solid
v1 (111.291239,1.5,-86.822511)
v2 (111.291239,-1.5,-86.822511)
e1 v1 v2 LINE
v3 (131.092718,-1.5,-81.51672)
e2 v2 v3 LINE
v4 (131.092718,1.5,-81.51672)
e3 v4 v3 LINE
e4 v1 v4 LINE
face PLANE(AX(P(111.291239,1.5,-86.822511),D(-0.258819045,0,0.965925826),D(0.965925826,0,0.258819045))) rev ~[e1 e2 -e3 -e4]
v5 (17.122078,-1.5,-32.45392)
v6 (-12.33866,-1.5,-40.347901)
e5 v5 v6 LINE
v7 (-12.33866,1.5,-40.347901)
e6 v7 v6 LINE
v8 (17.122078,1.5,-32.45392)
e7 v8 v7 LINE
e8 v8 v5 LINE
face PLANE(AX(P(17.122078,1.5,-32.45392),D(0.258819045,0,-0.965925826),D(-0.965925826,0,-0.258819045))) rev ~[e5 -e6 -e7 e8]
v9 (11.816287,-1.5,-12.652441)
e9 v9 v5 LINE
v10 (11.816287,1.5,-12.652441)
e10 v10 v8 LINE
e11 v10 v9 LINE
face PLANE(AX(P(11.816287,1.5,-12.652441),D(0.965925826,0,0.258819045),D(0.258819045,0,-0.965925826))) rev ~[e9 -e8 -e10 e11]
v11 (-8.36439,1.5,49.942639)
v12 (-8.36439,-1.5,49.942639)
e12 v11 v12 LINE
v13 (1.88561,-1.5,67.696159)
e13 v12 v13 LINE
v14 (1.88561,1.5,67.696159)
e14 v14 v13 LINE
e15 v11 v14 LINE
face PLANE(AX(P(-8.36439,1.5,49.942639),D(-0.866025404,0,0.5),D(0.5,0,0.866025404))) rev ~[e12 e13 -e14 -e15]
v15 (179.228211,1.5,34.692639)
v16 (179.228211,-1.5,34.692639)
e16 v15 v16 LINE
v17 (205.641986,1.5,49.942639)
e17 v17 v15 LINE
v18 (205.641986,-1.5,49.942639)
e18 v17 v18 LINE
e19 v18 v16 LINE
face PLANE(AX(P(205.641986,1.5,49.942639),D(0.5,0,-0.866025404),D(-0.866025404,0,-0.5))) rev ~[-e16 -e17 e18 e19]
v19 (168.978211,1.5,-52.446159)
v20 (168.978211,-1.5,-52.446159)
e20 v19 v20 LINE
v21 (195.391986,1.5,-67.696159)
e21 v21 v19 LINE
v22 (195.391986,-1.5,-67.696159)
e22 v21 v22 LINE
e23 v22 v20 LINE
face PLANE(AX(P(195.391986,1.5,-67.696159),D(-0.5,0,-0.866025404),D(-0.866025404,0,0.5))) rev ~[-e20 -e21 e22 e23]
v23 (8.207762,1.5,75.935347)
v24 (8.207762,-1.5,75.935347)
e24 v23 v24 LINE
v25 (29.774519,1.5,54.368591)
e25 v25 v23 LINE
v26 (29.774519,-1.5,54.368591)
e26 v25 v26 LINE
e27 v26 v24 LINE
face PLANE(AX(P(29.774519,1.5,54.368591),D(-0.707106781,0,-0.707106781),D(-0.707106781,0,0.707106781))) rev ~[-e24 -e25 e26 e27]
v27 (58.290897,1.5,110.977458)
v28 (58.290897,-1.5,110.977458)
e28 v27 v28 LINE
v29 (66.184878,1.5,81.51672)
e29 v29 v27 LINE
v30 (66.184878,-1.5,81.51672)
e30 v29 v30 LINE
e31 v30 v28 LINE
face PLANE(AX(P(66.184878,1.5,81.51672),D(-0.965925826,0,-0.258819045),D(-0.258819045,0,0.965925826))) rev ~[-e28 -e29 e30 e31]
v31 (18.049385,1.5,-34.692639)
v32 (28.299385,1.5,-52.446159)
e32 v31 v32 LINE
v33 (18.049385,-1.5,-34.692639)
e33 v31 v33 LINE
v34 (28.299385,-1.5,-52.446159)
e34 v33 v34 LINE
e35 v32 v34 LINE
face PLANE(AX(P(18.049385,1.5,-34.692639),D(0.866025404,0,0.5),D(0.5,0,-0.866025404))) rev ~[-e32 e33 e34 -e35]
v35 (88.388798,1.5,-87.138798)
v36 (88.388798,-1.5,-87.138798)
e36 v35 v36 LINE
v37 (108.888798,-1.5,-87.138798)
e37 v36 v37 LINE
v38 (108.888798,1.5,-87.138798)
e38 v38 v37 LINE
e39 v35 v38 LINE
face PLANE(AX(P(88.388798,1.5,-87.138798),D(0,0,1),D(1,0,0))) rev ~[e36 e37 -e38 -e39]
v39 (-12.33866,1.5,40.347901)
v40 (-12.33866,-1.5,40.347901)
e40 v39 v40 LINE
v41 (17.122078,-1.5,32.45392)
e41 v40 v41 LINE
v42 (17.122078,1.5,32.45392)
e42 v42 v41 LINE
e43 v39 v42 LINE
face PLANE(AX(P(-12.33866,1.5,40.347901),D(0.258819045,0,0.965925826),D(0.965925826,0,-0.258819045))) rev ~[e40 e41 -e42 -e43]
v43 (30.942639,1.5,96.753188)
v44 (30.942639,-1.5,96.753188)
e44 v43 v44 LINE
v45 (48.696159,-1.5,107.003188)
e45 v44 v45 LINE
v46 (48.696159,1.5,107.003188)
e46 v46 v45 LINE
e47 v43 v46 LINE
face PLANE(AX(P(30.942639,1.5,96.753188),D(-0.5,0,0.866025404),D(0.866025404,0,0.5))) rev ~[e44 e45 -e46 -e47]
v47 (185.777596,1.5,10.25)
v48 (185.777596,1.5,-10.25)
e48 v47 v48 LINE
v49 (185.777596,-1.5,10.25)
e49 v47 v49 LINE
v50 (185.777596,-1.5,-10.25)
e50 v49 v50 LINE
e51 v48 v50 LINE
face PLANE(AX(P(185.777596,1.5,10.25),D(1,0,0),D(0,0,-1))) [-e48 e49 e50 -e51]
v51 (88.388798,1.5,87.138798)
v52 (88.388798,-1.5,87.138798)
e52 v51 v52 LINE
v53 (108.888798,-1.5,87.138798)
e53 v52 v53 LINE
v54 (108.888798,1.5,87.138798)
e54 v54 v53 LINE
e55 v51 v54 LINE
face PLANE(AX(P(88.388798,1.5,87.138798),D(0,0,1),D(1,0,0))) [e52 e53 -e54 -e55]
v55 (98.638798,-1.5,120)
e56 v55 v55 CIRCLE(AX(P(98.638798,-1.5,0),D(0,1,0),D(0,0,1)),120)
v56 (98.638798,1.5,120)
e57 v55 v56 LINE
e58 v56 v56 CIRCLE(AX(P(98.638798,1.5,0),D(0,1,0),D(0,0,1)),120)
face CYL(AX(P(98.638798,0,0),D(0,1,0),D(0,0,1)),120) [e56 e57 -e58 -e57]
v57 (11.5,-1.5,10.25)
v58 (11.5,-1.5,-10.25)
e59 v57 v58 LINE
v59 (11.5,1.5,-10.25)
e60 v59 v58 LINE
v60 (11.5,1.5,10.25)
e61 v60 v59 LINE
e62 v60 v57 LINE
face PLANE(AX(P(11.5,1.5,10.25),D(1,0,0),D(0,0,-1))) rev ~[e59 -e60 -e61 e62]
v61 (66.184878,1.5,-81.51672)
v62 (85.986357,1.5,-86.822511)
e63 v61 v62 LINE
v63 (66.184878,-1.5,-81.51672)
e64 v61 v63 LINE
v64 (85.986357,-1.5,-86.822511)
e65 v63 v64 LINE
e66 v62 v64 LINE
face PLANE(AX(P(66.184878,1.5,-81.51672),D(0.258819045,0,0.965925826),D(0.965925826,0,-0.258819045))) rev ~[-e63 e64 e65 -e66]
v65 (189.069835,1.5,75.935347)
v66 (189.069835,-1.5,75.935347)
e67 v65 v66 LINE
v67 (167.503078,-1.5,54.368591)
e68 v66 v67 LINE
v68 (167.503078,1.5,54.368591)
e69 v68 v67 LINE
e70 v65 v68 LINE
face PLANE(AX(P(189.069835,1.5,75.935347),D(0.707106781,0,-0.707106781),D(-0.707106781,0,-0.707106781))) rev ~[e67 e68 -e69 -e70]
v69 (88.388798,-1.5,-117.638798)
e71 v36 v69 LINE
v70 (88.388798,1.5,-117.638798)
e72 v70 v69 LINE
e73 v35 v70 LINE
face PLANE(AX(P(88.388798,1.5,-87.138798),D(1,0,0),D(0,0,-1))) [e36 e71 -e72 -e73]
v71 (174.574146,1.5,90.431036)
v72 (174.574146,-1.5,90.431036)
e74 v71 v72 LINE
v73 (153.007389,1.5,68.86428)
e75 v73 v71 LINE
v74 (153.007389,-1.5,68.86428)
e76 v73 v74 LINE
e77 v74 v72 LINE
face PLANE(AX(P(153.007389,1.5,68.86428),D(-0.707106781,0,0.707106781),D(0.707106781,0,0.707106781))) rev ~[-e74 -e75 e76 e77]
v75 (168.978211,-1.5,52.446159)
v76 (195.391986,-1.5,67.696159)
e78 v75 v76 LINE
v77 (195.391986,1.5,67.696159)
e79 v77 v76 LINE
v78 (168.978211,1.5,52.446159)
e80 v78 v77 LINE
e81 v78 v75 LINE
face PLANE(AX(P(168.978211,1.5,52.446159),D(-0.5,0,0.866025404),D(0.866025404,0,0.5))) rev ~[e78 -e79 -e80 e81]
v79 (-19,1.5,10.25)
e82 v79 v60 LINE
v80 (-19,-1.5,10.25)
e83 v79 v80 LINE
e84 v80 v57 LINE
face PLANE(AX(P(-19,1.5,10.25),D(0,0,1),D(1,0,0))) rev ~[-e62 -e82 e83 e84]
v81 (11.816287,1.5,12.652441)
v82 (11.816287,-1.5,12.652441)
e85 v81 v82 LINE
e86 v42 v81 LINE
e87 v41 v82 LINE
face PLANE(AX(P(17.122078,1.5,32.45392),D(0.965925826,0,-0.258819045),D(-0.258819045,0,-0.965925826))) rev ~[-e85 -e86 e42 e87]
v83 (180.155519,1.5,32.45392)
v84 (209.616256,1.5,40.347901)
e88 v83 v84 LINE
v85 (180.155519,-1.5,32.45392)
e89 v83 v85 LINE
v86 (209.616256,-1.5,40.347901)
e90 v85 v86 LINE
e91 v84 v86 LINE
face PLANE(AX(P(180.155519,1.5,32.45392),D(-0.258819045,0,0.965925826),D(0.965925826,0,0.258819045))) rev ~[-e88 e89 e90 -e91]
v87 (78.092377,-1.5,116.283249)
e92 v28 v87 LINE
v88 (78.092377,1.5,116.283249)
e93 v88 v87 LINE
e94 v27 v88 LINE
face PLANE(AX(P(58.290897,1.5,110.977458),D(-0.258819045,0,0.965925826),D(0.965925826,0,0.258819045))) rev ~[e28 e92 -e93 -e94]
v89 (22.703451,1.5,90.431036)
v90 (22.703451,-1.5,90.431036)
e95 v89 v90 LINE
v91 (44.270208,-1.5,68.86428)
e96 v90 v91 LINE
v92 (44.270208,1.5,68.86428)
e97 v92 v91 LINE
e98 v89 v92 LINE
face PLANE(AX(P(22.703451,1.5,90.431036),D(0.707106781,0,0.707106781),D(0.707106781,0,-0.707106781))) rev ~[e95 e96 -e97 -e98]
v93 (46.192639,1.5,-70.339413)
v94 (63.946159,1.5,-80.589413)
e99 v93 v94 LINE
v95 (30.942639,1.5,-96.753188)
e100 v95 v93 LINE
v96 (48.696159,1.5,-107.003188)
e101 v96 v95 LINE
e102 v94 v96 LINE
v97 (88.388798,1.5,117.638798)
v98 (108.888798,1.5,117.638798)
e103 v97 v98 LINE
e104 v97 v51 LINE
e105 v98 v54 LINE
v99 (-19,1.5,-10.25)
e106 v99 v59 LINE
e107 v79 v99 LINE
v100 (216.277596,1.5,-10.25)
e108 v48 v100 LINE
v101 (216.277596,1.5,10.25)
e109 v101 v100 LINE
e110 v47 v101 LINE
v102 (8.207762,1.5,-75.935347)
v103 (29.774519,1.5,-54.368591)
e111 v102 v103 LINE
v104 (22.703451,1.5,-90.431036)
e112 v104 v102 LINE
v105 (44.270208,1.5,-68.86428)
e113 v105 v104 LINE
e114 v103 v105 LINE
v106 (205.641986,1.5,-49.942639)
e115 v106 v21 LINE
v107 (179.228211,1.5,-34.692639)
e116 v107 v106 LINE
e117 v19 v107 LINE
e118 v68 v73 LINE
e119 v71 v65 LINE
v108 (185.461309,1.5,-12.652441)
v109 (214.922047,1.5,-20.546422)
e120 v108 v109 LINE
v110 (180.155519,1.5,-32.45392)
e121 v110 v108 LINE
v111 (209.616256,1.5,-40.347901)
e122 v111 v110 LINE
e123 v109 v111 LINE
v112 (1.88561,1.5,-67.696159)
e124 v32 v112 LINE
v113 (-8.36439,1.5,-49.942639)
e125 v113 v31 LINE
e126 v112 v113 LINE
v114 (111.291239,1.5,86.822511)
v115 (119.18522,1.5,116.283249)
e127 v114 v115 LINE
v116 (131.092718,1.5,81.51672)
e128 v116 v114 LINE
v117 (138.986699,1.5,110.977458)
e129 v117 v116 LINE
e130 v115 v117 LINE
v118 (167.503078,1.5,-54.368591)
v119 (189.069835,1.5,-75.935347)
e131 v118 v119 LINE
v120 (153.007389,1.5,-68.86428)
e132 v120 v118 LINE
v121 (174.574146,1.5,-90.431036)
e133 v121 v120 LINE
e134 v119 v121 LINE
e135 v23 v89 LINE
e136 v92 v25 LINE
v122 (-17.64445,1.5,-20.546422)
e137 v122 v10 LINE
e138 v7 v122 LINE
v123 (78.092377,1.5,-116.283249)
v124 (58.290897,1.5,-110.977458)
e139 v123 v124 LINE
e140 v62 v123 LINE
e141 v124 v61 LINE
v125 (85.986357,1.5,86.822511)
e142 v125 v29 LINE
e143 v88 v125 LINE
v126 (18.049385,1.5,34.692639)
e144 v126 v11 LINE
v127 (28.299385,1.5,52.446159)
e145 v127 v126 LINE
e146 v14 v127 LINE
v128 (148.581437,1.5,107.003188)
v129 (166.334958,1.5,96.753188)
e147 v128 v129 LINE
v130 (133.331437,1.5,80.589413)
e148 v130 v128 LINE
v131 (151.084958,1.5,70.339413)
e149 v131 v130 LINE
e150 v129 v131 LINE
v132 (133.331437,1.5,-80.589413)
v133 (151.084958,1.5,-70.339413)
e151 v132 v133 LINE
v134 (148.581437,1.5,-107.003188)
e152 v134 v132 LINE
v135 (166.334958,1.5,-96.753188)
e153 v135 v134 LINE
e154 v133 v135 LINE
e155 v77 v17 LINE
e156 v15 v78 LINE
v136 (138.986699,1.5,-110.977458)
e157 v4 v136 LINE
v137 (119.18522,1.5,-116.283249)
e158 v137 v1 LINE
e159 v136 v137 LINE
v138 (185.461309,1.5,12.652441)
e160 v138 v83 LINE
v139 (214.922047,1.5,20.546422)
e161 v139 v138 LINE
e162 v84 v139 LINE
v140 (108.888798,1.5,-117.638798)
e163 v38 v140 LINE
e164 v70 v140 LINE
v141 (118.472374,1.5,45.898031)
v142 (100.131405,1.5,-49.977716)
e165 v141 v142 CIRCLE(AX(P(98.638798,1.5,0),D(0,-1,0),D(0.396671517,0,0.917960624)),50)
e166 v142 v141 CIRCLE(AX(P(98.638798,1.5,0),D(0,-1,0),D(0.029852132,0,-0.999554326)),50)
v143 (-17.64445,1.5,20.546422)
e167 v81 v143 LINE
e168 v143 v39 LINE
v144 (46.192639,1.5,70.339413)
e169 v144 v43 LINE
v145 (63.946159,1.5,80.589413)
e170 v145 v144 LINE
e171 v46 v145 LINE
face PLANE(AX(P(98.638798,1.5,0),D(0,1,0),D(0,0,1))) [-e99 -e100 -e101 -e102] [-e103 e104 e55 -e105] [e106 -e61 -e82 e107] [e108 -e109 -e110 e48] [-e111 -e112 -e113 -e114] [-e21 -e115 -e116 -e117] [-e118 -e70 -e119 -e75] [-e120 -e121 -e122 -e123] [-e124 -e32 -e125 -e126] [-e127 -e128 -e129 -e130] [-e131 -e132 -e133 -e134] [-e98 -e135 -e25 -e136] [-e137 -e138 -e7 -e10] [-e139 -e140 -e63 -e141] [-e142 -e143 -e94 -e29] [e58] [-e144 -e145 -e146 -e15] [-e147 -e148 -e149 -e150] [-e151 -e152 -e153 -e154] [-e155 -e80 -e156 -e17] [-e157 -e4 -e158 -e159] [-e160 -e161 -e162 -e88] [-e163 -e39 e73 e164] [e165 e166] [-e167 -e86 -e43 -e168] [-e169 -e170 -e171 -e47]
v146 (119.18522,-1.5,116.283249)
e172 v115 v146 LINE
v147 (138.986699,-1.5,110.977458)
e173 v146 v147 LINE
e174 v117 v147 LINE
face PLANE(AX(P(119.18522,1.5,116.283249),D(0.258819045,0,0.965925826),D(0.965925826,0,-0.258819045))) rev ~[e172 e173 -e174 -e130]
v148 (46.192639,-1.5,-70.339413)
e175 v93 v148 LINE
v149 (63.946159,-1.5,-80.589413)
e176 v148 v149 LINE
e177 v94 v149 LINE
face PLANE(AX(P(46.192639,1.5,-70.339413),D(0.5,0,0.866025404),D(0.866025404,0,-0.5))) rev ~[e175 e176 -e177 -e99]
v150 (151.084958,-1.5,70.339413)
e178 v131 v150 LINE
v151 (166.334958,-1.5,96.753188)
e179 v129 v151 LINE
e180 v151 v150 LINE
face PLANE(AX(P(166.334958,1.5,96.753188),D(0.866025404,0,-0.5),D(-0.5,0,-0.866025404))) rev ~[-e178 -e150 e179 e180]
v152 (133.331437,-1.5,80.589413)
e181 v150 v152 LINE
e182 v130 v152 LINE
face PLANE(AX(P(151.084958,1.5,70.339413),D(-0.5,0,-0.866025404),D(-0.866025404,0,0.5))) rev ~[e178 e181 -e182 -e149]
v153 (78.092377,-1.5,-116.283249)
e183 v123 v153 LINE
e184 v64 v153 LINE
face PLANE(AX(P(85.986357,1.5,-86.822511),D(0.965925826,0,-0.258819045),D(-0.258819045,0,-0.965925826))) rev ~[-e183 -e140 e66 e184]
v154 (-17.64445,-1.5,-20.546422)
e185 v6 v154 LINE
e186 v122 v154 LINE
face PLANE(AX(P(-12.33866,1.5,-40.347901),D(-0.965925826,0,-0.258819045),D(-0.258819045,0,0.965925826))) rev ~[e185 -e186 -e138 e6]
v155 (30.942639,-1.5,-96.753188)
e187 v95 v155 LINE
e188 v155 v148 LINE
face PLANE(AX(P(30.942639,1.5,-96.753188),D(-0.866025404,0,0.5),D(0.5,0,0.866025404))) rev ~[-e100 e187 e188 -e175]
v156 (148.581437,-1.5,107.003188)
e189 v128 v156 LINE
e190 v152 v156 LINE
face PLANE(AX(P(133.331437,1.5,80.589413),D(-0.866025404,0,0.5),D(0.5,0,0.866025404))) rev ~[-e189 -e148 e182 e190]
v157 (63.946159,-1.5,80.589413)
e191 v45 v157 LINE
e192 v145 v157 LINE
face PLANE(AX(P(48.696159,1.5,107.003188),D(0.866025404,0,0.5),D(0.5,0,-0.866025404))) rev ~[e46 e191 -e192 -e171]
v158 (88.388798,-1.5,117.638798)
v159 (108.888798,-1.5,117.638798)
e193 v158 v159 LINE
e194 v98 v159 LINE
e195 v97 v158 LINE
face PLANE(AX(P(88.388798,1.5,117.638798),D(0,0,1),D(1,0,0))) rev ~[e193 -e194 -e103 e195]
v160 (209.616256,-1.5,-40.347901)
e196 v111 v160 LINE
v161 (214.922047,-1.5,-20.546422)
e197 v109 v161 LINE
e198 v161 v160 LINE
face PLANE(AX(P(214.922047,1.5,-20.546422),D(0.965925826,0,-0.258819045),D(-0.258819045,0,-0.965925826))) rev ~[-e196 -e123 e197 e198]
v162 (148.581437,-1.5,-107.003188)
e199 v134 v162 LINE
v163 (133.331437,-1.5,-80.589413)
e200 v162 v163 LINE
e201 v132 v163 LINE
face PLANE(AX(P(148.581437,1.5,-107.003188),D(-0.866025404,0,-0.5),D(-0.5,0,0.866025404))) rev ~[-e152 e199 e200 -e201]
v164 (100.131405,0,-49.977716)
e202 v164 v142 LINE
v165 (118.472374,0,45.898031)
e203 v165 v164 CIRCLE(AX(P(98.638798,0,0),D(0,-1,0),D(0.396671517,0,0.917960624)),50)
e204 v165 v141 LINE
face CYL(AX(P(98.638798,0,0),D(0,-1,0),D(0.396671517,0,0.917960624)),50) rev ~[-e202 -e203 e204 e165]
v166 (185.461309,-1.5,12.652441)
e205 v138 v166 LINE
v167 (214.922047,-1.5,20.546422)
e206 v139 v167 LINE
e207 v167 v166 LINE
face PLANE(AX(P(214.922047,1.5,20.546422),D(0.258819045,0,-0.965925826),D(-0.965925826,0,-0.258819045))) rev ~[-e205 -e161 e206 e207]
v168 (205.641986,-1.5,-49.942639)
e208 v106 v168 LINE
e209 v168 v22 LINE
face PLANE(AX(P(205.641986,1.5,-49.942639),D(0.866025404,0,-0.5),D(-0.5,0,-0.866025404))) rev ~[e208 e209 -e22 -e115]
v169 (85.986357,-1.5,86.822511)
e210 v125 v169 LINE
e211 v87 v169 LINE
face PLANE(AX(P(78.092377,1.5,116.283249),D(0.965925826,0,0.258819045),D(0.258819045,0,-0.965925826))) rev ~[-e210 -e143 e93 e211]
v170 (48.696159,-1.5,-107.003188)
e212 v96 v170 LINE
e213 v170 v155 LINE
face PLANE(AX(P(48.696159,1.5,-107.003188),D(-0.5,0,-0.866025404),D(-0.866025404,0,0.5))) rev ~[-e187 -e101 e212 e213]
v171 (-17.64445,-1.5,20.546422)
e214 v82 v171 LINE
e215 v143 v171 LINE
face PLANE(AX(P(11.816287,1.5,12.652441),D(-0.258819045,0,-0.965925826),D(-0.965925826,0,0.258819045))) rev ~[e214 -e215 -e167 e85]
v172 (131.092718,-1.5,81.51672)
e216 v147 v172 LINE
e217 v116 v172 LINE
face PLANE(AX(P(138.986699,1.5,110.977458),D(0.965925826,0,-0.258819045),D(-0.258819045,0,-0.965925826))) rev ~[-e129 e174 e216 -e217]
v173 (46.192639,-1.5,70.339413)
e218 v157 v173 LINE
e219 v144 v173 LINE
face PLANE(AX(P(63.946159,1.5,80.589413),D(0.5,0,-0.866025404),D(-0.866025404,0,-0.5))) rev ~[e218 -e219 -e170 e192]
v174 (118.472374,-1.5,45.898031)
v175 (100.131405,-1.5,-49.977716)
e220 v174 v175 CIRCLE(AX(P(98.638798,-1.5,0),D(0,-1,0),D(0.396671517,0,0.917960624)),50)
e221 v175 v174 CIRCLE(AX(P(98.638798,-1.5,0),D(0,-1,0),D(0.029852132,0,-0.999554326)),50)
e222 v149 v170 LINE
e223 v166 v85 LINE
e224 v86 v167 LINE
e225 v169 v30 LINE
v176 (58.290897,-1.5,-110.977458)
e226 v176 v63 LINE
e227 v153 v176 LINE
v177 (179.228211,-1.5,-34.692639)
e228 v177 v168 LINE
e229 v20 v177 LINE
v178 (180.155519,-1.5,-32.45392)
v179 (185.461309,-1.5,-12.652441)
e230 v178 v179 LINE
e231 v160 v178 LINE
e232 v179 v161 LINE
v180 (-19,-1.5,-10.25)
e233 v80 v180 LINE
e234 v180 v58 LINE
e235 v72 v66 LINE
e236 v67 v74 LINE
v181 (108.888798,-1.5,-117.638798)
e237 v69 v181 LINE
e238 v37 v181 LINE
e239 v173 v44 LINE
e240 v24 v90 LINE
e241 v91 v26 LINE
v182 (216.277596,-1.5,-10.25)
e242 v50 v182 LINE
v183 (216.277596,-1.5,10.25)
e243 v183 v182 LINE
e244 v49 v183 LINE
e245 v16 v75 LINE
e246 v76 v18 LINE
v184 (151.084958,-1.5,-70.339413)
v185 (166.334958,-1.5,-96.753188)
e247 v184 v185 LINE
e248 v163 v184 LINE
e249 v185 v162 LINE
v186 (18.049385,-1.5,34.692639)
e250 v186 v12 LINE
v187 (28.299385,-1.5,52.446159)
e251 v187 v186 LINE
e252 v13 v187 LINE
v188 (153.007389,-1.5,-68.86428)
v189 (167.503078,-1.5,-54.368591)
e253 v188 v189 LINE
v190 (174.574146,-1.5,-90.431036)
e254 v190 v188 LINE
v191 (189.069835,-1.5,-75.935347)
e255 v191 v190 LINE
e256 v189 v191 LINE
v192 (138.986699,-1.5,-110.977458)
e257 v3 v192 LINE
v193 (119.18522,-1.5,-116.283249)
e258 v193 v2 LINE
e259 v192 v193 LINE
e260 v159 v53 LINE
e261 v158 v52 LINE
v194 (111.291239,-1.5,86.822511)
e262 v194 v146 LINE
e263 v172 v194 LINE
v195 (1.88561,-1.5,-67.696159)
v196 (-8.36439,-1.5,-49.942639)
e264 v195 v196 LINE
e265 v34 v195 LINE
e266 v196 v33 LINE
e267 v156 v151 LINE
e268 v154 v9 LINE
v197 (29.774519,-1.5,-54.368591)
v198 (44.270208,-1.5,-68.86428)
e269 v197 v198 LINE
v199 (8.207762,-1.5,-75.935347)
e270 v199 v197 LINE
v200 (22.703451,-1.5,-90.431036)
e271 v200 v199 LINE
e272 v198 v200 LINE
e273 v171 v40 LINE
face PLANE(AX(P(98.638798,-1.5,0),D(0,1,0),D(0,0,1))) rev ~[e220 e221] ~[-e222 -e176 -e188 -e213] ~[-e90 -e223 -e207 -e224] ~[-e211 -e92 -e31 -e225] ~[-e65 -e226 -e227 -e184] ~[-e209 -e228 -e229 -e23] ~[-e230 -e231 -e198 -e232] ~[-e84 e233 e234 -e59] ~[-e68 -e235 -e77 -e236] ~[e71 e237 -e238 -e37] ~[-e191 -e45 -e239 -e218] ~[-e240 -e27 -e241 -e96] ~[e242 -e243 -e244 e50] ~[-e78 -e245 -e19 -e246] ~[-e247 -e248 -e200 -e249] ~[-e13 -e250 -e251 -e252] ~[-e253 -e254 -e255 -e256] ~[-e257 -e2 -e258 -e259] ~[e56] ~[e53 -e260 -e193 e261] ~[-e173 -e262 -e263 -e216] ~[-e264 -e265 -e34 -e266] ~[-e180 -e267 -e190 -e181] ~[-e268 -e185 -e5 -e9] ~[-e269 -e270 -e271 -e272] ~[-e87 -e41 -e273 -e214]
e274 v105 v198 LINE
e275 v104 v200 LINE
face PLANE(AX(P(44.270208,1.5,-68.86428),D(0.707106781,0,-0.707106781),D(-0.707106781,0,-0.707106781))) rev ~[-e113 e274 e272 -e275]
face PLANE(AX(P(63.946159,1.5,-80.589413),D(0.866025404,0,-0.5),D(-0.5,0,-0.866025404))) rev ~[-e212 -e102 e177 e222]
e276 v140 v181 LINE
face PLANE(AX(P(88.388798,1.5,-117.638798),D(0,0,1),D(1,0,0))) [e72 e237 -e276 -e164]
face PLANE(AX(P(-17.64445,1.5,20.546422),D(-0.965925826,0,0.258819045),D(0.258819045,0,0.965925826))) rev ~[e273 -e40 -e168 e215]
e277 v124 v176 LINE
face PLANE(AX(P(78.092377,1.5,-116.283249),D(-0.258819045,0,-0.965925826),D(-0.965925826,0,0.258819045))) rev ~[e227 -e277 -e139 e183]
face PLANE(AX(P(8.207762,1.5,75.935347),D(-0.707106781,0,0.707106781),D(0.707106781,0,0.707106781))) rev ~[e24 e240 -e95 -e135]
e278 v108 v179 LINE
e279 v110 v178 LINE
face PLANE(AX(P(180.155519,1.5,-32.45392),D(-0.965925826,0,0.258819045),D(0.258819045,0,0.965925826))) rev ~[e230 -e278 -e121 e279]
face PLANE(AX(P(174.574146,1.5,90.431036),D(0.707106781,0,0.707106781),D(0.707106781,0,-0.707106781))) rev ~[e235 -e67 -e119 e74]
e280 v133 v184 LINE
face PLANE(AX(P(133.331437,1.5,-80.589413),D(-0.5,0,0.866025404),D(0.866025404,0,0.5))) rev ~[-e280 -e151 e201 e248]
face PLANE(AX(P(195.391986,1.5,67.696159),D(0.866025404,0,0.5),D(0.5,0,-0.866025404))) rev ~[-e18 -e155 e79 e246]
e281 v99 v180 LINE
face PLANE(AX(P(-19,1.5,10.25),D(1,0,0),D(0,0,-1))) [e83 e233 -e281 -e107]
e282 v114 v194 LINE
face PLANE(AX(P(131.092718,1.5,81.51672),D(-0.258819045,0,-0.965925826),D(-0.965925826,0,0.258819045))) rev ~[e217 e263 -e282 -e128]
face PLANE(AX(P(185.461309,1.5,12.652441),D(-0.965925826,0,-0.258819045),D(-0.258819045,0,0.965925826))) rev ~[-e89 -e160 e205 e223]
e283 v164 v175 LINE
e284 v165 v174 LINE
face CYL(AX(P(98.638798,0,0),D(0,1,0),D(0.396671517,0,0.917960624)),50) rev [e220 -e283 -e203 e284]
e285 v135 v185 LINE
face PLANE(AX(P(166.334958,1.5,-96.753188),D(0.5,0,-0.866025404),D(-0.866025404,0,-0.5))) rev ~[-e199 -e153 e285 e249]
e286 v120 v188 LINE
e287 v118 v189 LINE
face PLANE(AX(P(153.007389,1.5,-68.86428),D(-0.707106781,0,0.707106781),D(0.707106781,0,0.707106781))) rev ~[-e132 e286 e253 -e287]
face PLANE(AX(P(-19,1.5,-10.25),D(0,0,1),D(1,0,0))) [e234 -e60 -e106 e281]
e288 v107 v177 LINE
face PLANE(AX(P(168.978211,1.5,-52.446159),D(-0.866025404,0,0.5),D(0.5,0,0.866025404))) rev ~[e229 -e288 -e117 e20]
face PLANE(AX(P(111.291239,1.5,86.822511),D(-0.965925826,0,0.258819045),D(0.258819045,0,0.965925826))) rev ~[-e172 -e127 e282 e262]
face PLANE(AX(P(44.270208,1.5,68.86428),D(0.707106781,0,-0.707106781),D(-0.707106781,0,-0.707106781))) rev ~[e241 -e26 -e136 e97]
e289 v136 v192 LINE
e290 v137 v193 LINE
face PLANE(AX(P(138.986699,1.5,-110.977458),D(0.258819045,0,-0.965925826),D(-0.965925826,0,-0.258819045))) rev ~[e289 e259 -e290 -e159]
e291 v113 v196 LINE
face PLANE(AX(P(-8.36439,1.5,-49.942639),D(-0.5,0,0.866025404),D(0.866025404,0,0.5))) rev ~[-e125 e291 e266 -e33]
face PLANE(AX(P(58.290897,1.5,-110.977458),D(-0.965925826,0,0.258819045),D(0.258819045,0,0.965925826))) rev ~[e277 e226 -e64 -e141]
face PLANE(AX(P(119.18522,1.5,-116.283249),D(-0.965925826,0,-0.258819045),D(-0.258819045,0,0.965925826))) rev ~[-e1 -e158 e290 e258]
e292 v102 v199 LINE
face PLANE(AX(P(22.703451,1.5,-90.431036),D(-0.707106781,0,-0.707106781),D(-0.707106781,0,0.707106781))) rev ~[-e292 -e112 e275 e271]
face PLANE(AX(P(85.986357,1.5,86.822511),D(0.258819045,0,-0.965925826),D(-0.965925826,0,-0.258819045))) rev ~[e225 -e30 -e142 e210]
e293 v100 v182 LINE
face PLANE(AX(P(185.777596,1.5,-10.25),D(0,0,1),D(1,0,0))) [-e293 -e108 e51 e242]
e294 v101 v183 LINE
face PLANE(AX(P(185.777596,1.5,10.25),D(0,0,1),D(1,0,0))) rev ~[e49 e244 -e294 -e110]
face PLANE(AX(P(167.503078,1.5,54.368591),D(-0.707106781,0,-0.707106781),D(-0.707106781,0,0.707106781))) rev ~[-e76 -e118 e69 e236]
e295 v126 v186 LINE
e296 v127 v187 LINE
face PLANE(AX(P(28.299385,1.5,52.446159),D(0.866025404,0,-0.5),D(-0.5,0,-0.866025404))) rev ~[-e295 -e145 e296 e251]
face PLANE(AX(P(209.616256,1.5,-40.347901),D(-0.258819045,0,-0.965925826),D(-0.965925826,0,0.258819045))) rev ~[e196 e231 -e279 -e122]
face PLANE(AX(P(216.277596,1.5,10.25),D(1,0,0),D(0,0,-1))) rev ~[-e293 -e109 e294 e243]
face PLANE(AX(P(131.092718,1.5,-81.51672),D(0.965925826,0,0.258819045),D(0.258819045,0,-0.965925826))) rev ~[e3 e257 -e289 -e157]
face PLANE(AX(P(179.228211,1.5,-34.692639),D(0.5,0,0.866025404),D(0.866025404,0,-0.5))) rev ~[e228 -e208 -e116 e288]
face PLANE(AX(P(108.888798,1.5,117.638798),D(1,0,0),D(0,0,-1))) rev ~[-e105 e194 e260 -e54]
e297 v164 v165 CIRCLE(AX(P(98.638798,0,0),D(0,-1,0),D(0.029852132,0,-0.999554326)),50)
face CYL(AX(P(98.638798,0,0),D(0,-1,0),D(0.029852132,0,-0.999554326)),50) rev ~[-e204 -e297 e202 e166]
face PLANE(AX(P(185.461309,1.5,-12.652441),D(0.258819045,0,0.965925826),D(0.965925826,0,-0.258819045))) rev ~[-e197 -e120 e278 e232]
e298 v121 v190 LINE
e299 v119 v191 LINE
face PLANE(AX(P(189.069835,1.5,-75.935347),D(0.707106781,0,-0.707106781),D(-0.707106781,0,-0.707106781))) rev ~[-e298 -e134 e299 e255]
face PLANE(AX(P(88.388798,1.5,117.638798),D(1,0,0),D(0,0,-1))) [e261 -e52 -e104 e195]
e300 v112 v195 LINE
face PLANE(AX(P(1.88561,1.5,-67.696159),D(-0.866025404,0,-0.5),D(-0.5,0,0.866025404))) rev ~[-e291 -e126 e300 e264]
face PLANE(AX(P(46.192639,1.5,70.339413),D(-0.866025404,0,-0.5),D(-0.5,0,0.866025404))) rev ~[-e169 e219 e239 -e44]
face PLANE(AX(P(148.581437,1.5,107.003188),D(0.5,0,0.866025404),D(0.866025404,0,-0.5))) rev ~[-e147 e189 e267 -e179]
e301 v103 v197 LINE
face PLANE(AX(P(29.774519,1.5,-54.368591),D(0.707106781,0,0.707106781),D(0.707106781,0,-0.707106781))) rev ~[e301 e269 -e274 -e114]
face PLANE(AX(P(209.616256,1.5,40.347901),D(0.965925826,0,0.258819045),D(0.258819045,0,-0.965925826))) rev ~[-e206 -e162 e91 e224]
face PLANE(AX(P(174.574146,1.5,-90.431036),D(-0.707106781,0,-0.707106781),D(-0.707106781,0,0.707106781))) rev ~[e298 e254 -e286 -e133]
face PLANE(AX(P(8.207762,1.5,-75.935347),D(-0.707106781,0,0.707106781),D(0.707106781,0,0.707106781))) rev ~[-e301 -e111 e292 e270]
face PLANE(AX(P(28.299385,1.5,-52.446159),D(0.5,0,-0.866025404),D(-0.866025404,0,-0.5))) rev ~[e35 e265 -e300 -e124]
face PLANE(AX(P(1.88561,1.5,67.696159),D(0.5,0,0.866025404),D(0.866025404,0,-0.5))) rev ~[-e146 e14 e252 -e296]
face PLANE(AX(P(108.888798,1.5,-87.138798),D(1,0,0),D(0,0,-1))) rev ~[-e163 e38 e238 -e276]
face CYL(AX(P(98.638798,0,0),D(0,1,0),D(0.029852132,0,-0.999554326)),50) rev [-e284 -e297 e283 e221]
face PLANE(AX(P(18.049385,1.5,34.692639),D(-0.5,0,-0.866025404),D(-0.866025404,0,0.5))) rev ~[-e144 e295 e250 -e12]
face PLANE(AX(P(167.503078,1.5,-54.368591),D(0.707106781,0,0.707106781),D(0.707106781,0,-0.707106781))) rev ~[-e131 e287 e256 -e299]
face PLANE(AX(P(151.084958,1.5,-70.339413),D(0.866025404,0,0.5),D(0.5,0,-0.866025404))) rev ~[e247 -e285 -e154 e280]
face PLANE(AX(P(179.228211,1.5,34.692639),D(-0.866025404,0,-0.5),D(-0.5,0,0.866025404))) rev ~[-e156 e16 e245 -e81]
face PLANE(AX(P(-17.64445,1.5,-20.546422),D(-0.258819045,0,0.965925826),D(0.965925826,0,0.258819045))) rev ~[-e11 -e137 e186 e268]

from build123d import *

# Parameters (mm, degrees)
SKETCH1_R           = 120
BOSS_EXTRUDE1_DEPTH = 1.5
SKETCH6_W           = 30.5
SKETCH6_H           = 20.5
SKETCH6_W_2         = 20.5
SKETCH6_H_2         = 30.5
CUT_EXTRUDE1_DEPTH  = 10.5


with BuildPart() as part:
    # Sketch1 → Boss-Extrude1 (new, symmetric)
    with BuildSketch(Plane(origin=(0, 0, 0), x_dir=(1, 0, 0), z_dir=(0, 1, 0))):
        with Locations(Location((98.638798209, 0, 0), (0, 0, 270))):
            Circle(SKETCH1_R)
        with BuildLine():
            ThreePointArc((118.472374081, -45.898031201), (49.529315887, -9.394612605), (100.131404816, 49.97771629))
            ThreePointArc((100.131404816, 49.97771629), (147.748280532, 9.394612605), (118.472374081, -45.898031201))
        make_face(mode=Mode.SUBTRACT)
    extrude(amount=BOSS_EXTRUDE1_DEPTH, both=True)

    # Sketch6 → Cut-Extrude1 (cut)
    with BuildSketch(Plane(origin=(0, 1.5, 0), x_dir=(1, 0, 0), z_dir=(0, 1, 0))):
        with Locations((-3.75, 0)):
            Rectangle(SKETCH6_W, SKETCH6_H)
        Polygon((-12.338659942, 40.347901139), (-17.644450367, 20.5464217), (11.816287335, 12.652440824), (17.122077759, 32.453920263), align=None)
        Polygon((1.885610489, 67.696159493), (-8.364389511, 49.942638716), (18.049385305, 34.692638716), (28.299385305, 52.446159493), align=None)
        Polygon((22.703450772, 90.431036452), (8.207761758, 75.935347437), (29.774518584, 54.368590611), (44.270207598, 68.864279625), align=None)
        Polygon((48.696159493, 107.00318772), (30.942638716, 96.75318772), (46.192638716, 70.339412904), (63.946159493, 80.589412904), align=None)
        Polygon((78.092376509, 116.283248576), (58.29089707, 110.977458152), (66.184877946, 81.51672045), (85.986357385, 86.822510874), align=None)
        with Locations((98.638798209, 102.388798209)):
            Rectangle(SKETCH6_W_2, SKETCH6_H_2)
        Polygon((138.986699348, 110.977458152), (119.185219909, 116.283248576), (111.291239034, 86.822510874), (131.092718473, 81.51672045), align=None)
        Polygon((166.334957703, 96.75318772), (148.581436925, 107.00318772), (133.331436925, 80.589412904), (151.084957703, 70.339412904), align=None)
        Polygon((189.069834661, 75.935347437), (174.574145646, 90.431036452), (153.00738882, 68.864279625), (167.503077834, 54.368590611), align=None)
        Polygon((205.641985929, 49.942638716), (195.391985929, 67.696159493), (168.978211114, 52.446159493), (179.228211114, 34.692638716), align=None)
        Polygon((214.922046785, 20.5464217), (209.616256361, 40.347901139), (180.155518659, 32.453920263), (185.461309084, 12.652440824), align=None)
        with Locations((201.027596418, 0)):
            Rectangle(SKETCH6_W, SKETCH6_H)
        Polygon((209.616256361, -40.347901139), (214.922046785, -20.5464217), (185.461309084, -12.652440824), (180.155518659, -32.453920263), align=None)
        Polygon((195.391985929, -67.696159493), (205.641985929, -49.942638716), (179.228211114, -34.692638716), (168.978211114, -52.446159493), align=None)
        Polygon((174.574145646, -90.431036451), (189.069834661, -75.935347437), (167.503077835, -54.368590611), (153.00738882, -68.864279625), align=None)
        Polygon((148.581436925, -107.00318772), (166.334957703, -96.75318772), (151.084957703, -70.339412904), (133.331436925, -80.589412904), align=None)
        Polygon((119.185219909, -116.283248576), (138.986699348, -110.977458152), (131.092718473, -81.51672045), (111.291239034, -86.822510874), align=None)
        with Locations((98.638798209, -102.388798209)):
            Rectangle(SKETCH6_W_2, SKETCH6_H_2)
        Polygon((58.29089707, -110.977458152), (78.092376509, -116.283248576), (85.986357385, -86.822510874), (66.184877946, -81.51672045), align=None)
        Polygon((30.942638716, -96.75318772), (48.696159493, -107.00318772), (63.946159493, -80.589412904), (46.192638716, -70.339412904), align=None)
        Polygon((8.207761758, -75.935347437), (22.703450772, -90.431036452), (44.270207598, -68.864279625), (29.774518584, -54.368590611), align=None)
        Polygon((-8.364389511, -49.942638716), (1.885610489, -67.696159493), (28.299385305, -52.446159493), (18.049385305, -34.692638716), align=None)
        Polygon((-17.644450367, -20.5464217), (-12.338659942, -40.347901139), (17.122077759, -32.453920263), (11.816287335, -12.652440824), align=None)
    extrude(amount=-CUT_EXTRUDE1_DEPTH, mode=Mode.SUBTRACT)


solid = part.part
